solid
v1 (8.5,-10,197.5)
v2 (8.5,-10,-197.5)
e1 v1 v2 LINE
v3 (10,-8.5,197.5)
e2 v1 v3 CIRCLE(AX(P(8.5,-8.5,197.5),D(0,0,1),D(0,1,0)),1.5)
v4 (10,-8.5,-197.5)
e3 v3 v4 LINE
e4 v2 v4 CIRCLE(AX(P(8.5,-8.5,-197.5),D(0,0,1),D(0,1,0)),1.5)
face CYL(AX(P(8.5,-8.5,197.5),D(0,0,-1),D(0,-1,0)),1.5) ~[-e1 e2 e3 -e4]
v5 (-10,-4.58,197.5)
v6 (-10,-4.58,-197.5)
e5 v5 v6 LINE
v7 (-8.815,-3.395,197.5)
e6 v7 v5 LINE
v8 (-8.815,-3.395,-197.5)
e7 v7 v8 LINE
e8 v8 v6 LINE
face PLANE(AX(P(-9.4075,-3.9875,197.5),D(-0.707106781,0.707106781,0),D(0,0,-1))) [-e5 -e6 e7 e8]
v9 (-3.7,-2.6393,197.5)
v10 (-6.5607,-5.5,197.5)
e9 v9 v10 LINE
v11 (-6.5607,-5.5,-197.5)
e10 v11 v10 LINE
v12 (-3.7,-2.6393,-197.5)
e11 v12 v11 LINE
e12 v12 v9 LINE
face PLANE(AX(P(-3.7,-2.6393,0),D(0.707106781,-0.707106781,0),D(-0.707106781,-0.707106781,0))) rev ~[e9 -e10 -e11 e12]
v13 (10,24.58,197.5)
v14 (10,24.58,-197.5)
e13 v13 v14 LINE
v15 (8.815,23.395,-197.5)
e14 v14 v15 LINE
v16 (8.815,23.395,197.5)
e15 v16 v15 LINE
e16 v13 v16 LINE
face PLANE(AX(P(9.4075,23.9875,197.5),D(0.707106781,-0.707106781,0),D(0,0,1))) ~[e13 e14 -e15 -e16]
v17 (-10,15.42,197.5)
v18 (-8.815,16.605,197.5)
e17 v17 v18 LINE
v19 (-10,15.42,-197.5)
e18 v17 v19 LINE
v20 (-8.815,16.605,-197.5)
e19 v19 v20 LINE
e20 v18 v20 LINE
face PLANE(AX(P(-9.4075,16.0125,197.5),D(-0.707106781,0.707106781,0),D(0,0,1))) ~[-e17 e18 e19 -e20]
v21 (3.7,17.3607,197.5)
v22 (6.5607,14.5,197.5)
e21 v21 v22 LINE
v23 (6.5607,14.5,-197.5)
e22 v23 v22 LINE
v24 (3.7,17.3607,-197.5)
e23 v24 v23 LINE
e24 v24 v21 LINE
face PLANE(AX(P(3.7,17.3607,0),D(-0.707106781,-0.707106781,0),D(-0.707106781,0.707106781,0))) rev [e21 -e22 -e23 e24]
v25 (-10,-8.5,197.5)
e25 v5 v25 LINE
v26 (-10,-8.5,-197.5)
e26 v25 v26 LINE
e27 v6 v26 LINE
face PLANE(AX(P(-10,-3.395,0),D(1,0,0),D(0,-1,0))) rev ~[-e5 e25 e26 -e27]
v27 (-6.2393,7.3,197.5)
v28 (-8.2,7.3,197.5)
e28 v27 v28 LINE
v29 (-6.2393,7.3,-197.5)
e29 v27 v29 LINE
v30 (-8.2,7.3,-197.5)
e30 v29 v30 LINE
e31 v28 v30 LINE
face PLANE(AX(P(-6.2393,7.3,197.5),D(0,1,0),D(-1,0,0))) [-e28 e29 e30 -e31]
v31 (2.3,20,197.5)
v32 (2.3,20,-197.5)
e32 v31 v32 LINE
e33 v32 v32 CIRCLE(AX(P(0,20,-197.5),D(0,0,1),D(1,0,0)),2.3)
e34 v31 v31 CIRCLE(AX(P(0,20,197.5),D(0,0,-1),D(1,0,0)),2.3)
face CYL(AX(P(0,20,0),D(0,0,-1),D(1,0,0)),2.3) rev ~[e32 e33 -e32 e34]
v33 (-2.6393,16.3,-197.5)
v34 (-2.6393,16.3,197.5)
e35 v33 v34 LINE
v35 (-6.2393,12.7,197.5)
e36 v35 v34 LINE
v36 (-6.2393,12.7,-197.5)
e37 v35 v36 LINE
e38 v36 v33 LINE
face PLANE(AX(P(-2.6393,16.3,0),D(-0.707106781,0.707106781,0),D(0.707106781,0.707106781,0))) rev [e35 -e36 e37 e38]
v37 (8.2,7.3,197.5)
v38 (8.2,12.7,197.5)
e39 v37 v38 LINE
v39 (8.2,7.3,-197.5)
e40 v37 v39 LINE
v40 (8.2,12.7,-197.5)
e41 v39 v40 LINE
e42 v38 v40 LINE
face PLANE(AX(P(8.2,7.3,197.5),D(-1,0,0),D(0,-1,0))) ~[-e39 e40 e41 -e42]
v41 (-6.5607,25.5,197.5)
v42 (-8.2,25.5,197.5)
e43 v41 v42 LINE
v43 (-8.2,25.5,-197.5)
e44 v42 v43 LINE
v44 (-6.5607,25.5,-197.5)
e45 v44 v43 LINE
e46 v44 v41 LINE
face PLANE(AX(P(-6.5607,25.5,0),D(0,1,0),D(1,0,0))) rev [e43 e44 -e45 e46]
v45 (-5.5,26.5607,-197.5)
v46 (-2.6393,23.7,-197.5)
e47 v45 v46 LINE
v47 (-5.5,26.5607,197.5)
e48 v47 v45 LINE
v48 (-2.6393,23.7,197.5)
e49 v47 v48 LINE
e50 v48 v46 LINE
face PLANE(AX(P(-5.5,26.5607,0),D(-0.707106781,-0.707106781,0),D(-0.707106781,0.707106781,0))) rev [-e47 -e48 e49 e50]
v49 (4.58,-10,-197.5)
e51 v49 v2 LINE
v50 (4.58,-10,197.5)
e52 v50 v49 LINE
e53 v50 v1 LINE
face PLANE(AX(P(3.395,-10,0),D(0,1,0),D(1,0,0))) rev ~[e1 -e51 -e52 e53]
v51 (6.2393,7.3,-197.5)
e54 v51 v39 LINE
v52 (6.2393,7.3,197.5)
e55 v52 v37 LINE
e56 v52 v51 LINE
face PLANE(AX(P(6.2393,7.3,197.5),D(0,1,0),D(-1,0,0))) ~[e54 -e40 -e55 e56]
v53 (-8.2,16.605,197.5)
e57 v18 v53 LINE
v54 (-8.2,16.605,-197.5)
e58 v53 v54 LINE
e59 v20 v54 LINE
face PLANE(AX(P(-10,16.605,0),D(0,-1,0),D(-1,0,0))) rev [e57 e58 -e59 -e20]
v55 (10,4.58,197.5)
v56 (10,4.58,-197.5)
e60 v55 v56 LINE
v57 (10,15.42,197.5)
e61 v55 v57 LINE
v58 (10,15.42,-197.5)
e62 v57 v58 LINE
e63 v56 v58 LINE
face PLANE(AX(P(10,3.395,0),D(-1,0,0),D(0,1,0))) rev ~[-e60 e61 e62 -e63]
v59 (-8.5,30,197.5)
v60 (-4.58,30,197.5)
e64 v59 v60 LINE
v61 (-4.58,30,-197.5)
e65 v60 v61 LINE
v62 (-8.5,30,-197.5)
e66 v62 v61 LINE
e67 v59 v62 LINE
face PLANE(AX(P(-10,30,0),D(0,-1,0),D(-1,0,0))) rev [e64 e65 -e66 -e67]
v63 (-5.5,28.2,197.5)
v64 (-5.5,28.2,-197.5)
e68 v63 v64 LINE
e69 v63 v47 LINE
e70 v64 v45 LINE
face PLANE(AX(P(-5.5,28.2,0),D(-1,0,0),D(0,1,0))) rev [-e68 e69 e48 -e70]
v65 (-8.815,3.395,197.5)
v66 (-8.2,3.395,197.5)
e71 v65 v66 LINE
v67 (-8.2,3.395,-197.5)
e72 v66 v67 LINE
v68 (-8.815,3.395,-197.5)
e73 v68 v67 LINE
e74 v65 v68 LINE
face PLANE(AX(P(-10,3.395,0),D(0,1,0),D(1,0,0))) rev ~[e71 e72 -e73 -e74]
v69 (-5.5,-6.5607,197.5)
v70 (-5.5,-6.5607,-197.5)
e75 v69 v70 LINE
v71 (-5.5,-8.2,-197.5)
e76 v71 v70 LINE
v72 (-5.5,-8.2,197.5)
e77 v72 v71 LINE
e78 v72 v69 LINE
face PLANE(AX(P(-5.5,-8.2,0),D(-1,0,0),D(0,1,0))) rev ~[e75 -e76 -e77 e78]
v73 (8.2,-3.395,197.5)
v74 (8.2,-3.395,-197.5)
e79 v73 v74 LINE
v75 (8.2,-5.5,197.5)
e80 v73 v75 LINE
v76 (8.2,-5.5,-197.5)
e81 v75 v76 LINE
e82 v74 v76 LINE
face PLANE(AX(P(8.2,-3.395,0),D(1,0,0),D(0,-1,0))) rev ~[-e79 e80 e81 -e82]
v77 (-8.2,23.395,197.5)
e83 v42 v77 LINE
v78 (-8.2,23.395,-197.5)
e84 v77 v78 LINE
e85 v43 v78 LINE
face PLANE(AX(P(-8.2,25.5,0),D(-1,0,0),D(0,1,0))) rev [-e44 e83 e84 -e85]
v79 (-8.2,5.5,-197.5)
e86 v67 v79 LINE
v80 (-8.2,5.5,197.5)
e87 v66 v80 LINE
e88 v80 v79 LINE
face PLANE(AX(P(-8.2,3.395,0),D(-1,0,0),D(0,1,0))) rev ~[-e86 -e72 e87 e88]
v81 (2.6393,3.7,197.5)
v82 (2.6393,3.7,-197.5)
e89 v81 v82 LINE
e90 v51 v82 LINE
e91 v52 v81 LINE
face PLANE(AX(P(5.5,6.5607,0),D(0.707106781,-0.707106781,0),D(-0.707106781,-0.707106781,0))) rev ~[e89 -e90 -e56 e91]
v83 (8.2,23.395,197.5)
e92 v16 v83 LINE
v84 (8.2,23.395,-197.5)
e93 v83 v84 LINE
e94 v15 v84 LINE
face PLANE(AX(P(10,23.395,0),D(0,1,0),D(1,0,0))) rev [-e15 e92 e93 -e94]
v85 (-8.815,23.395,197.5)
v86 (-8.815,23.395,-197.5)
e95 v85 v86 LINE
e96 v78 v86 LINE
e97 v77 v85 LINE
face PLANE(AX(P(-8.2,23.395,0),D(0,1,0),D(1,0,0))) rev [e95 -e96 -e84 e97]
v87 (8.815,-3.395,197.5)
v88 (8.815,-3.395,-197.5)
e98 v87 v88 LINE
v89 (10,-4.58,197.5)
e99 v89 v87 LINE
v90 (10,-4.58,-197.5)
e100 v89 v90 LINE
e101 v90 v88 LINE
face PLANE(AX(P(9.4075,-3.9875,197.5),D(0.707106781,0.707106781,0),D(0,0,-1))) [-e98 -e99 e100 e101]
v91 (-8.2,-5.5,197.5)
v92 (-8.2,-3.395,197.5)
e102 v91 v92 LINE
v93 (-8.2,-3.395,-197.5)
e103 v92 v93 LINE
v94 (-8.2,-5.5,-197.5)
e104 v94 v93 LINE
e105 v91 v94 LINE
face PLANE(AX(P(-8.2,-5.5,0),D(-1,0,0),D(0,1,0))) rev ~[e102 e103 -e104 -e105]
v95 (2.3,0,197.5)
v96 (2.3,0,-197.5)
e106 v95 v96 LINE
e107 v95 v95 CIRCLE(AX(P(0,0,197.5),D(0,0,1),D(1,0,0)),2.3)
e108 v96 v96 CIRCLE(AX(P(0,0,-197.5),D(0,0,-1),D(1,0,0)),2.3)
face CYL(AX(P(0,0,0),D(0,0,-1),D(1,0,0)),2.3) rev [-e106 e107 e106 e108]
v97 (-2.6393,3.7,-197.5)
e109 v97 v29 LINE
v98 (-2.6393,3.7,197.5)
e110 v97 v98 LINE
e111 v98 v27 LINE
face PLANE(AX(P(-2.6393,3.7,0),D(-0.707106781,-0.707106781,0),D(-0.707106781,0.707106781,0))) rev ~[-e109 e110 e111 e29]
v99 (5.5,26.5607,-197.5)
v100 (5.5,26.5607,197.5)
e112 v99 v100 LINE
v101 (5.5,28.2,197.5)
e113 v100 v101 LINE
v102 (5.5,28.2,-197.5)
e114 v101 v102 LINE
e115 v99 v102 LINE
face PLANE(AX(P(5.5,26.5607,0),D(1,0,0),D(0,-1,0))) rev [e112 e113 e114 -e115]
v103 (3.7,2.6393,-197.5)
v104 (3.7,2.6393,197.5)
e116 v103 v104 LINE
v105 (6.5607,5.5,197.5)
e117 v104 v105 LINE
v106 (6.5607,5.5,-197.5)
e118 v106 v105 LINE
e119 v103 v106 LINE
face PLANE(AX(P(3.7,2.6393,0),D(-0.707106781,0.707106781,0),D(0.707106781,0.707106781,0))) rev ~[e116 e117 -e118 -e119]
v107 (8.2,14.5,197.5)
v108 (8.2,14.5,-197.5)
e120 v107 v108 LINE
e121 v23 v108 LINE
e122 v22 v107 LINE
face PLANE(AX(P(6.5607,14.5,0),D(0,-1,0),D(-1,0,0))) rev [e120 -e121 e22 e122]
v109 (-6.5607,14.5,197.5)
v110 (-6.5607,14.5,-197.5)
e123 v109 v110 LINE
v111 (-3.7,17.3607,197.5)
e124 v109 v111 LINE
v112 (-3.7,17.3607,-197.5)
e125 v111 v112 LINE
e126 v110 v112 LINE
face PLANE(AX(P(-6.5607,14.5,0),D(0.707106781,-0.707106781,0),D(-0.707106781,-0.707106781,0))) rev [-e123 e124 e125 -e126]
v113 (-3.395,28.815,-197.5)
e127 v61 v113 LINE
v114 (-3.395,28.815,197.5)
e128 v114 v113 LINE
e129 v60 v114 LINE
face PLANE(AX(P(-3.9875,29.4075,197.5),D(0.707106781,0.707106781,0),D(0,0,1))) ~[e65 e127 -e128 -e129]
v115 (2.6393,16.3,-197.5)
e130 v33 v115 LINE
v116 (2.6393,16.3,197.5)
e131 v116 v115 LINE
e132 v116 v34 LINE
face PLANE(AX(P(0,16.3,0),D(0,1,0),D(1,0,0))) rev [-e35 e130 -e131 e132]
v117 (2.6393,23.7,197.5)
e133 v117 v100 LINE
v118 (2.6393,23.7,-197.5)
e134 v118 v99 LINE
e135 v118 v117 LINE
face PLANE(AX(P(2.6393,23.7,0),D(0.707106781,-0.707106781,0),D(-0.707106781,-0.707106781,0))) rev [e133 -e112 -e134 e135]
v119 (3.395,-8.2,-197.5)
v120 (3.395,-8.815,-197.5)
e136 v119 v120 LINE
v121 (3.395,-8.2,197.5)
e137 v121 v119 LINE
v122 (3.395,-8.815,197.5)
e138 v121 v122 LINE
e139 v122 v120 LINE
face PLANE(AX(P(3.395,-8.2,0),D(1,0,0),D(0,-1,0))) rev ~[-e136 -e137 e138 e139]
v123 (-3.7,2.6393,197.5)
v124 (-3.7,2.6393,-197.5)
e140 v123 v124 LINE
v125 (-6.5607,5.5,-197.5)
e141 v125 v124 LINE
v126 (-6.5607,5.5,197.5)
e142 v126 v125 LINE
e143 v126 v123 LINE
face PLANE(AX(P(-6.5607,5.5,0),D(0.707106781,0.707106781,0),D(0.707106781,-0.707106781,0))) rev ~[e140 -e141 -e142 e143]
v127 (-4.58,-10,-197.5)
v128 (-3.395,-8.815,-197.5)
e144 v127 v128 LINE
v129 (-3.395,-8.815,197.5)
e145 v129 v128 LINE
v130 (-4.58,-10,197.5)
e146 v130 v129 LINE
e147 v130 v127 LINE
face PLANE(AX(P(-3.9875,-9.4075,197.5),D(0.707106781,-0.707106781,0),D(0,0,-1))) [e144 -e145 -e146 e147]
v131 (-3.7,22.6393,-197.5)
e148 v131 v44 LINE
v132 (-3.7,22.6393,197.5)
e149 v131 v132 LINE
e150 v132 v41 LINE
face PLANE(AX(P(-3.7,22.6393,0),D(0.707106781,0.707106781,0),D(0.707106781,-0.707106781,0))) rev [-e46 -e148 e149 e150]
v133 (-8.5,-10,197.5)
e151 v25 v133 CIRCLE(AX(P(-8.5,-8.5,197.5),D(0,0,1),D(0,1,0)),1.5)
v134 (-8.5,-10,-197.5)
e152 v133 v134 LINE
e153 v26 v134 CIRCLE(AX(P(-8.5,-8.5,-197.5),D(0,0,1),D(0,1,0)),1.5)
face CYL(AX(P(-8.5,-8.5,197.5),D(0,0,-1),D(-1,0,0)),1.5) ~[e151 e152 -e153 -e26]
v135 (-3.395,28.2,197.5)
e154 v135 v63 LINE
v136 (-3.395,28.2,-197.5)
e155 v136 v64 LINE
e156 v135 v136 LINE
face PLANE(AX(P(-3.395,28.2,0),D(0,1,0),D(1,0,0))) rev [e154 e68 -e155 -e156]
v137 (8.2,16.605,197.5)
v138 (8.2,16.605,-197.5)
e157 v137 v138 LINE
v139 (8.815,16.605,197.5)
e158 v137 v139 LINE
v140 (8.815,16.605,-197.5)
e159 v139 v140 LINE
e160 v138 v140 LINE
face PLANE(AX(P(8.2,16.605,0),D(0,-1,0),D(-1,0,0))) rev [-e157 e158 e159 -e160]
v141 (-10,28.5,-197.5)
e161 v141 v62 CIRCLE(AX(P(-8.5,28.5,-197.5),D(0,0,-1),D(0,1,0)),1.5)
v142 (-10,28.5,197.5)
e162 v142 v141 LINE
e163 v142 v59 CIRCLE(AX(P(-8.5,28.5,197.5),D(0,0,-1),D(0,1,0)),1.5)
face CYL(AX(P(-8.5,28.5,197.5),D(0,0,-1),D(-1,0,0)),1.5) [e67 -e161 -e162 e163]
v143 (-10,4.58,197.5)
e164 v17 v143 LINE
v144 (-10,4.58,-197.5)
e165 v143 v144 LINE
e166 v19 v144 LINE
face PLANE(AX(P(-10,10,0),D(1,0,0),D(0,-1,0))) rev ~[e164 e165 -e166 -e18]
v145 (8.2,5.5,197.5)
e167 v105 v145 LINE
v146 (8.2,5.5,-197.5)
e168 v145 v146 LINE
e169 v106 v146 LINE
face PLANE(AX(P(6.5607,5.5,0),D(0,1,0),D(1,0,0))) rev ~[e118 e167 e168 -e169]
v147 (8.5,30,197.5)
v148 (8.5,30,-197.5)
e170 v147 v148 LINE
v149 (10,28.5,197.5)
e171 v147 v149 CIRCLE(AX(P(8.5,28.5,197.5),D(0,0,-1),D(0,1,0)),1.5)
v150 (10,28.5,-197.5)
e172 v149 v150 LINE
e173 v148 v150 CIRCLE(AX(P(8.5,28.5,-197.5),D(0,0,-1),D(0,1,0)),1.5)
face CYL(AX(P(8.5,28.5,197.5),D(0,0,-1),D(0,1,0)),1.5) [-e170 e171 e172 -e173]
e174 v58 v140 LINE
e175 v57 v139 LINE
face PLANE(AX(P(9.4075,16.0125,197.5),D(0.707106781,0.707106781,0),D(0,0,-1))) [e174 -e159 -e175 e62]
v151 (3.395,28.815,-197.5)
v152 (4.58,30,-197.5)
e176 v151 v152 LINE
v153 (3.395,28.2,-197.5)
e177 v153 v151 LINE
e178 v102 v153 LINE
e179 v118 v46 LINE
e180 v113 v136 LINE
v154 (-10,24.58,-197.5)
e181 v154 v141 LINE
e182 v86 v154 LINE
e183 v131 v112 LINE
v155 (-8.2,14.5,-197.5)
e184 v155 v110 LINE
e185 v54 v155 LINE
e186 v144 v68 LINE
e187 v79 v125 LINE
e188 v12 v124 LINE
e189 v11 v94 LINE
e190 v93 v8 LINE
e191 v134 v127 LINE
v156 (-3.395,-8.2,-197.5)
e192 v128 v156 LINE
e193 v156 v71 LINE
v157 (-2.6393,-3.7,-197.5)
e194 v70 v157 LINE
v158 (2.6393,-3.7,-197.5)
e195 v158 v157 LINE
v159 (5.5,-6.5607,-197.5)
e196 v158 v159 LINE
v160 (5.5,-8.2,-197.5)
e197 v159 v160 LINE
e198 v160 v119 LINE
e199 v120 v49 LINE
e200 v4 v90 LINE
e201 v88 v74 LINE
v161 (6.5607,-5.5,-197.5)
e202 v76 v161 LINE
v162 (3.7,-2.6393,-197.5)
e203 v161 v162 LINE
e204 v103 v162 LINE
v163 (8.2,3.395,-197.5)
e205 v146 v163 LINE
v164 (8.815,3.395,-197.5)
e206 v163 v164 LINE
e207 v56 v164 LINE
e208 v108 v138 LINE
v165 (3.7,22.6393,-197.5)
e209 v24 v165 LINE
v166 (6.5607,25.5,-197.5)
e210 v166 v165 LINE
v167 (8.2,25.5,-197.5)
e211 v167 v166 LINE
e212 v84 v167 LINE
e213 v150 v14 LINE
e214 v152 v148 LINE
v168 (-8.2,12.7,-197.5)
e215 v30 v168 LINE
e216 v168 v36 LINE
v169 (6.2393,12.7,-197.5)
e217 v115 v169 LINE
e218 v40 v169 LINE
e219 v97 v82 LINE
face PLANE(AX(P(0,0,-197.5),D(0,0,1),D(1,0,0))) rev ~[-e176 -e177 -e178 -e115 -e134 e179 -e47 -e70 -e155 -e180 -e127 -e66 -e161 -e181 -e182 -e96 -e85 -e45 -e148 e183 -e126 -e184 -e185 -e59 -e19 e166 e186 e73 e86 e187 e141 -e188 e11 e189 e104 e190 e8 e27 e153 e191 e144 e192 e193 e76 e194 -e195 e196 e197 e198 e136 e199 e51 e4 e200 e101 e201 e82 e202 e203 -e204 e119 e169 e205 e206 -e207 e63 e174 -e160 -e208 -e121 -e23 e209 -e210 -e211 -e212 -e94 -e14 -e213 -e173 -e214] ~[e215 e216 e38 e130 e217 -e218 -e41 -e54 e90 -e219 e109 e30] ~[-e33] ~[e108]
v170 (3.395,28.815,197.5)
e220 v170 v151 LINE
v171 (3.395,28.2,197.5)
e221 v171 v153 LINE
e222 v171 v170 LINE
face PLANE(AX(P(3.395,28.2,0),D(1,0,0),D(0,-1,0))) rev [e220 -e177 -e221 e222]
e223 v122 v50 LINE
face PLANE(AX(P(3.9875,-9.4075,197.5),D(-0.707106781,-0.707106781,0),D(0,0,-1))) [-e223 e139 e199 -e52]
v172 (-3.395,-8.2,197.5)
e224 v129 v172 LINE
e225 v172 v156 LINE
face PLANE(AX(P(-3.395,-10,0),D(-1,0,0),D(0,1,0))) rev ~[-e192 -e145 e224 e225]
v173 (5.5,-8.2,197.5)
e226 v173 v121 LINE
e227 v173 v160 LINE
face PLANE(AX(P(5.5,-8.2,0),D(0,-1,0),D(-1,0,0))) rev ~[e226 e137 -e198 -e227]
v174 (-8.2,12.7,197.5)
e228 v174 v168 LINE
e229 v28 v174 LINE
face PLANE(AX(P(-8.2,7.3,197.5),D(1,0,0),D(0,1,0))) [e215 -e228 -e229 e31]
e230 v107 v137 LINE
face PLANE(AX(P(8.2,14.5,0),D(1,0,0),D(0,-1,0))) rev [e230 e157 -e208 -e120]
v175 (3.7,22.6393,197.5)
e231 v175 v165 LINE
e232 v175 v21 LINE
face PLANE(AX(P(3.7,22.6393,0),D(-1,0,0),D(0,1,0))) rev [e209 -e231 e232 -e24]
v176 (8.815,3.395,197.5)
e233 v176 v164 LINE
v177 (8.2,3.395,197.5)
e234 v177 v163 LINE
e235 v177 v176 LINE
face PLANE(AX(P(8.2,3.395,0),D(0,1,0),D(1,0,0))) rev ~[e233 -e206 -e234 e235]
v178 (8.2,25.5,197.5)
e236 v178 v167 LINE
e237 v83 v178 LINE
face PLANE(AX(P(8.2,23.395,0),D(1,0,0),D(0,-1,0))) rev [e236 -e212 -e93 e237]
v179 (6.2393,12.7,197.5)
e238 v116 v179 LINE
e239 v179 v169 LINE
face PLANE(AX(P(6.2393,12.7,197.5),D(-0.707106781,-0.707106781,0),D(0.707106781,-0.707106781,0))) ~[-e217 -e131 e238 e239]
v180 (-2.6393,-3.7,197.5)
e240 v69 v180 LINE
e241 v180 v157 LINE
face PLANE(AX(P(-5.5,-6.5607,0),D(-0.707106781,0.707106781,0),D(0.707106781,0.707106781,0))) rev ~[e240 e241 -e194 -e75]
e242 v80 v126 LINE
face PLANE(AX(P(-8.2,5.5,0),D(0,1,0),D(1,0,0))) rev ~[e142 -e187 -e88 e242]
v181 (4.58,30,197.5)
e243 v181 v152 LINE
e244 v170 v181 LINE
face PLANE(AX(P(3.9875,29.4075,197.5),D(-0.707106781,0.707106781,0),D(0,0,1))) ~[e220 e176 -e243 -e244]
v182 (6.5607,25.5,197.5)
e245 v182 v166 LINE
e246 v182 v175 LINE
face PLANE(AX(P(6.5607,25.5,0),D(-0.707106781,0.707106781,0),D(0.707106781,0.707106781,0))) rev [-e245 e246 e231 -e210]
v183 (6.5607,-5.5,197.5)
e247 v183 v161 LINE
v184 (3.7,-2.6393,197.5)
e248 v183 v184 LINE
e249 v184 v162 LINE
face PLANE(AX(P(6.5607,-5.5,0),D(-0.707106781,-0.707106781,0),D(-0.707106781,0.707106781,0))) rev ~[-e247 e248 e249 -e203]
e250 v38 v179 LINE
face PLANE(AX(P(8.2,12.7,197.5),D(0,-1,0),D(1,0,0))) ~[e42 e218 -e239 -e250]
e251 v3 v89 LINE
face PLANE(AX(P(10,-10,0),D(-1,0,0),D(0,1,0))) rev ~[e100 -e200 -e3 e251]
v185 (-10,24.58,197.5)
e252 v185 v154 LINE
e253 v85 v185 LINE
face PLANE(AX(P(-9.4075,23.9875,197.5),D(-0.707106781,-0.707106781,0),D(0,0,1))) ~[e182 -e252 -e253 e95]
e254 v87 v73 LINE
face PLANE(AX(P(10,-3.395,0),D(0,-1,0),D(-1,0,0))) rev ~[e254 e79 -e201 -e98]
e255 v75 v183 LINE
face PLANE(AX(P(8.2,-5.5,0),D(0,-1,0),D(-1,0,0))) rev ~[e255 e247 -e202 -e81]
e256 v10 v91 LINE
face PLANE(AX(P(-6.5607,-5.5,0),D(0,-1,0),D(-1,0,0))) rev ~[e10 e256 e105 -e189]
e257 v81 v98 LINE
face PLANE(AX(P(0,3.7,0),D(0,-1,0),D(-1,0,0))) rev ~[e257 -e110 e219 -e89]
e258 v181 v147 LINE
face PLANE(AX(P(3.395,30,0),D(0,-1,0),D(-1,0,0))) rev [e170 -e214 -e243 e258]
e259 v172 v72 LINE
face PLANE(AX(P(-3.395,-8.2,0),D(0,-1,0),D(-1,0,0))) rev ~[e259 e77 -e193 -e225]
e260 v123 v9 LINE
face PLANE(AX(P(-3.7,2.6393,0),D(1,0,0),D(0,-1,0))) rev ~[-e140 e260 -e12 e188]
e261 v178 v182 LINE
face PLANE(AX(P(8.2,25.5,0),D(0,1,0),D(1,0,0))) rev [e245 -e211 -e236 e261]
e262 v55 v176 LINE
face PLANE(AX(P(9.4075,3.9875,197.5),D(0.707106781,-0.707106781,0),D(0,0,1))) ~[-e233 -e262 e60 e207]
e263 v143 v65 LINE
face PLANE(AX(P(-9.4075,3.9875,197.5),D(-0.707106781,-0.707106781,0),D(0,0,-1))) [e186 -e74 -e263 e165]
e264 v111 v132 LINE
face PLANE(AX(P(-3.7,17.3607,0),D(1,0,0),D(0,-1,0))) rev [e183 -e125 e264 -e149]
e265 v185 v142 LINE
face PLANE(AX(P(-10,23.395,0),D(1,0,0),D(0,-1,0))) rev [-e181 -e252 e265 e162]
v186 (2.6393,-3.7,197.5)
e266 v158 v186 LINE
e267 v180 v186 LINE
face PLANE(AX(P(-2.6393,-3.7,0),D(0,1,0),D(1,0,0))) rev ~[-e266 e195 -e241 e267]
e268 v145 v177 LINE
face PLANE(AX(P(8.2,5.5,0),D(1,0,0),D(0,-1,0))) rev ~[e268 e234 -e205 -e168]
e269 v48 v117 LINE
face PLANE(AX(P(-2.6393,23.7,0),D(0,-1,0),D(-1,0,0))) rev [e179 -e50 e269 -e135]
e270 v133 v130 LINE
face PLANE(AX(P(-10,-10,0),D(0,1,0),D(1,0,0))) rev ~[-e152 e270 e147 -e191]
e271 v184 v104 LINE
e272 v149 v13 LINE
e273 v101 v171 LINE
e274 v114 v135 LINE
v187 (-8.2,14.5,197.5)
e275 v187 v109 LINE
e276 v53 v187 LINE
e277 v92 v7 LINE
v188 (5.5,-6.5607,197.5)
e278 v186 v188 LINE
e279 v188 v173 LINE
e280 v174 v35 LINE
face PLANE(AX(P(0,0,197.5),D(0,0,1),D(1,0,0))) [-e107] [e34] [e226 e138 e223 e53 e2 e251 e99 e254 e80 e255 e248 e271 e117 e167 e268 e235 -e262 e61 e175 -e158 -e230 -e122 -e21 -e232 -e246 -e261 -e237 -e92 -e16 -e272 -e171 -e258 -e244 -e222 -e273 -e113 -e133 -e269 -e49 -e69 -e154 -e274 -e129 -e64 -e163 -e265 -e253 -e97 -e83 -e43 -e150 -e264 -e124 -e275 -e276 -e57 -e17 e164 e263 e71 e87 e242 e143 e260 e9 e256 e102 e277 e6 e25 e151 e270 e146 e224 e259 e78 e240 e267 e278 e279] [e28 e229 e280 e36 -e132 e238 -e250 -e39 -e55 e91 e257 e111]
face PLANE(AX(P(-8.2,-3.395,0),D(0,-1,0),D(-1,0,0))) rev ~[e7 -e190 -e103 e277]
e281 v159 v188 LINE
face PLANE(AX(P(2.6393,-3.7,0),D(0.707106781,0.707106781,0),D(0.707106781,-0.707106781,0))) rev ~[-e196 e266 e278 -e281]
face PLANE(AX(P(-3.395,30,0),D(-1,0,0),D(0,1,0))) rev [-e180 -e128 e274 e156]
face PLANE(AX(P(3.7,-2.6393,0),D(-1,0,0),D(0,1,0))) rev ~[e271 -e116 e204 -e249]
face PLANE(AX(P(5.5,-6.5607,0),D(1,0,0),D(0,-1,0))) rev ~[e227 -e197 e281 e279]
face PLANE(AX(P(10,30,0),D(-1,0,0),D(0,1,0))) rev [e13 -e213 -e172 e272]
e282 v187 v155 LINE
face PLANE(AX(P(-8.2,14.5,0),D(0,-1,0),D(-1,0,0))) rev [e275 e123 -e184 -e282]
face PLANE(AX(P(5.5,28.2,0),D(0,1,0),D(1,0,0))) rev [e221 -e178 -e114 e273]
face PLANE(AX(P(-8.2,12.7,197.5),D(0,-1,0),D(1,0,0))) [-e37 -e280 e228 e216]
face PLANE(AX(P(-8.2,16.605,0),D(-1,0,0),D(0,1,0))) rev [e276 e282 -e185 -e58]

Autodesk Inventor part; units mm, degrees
ref_plane "YZ Plane" through (0, 0, 0) normal (1, 0, 0) x (0, 1, 0)
ref_plane "XZ Plane" through (0, 0, 0) normal (0, 1, 0) x (-1, 0, 0)
sketch "Sketch1" plane through (0, 0, 0) normal (0, 0, 1) x (1, 0, 0)
  line L0 (0, 3.7) -> (-2.6393, 3.7)
  line L1 (-2.6393, 3.7) -> (-5.5, 6.5607)
  line L2 (-5.5, 6.5607) -> (-5.5, 8.2)
  line L3 (-5.5, 8.2) -> (-3.395, 8.2)
  line L4 (-3.395, 8.2) -> (-3.395, 10)
  line L5 (-3.395, 10) -> (-10, 10)
  line L6 (-10, 10) -> (-10, 3.395)
  line L7 (-10, 3.395) -> (-8.2, 3.395)
  line L8 (-8.2, 3.395) -> (-8.2, 5.5)
  line L9 (-8.2, 5.5) -> (-6.5607, 5.5)
  line L10 (-6.5607, 5.5) -> (-3.7, 2.6393)
  line L11 (-3.7, 2.6393) -> (-3.7, 0)
  line L12 (0, 0) -> (-10, 10) construction
  circle A0 centre (0, 0) radius 2.3
  line L13 (-22.6601, 0) -> (65.9605, 0) projected
  line L14 (-3.7, 0) -> (0, 0)
  line L15 (0, 0) -> (0, 3.7)
  line L16 (11.2521, 18.9743) -> (53.3004, 18.9743) construction
  line L17 (53.3004, 18.9743) -> (53.3004, -5.624) construction
  line L18 (53.3004, -5.624) -> (11.2521, -5.624) construction
  line L19 (11.2521, -5.624) -> (11.2521, 18.9743) construction
  point P0 (-2.3, 0)
  point P1 (0, 2.3)
  dimension "d0" = 1.5
  dimension "d6" = 6.3
  dimension "d9" = 4.6
  dimension "d18" = 135
  dimension "d22" = 20
  dimension "d34" = 11
  dimension "d35" = 6.79
  dimension "d36" = 1.8
extrude "Extrusion1" add sketch "Sketch1" along normal mid plane 395 contours L15 A0 L13 L11 L10 L9 L8 L7 L6 L5 L4 L3 L2 L1 L0
pattern_circular "Circular Pattern1" count 4 over 360 about axis through (0, 0, -10) along (0, 0, 1) of "Extrusion1"
chamfer "Chamfer1" distance 1.185 angle 45 8 edges at (-3.395, 10, 0) (3.395, 10, 0) (10, 3.395, 0) (10, -3.395, 0) (3.395, -10, 0) (-3.395, -10, 0) (-10, -3.395, 0) (-10, 3.395, 0)
ref_plane "Work Plane1" through (4.58, 10, 197.5) normal (0, 1, 0) x (1, 0, 0)
mirror "Mirror1" about plane through (4.58, 10, 197.5) normal (0, 1, 0)
sketch "Sketch2" plane through (0, 0, 197.5) normal (0, 0, 1) x (1, 0, 0)
  line L0 (-10, 4.58) -> (-10, 15.42) projected
  line L1 (-8.815, 3.395) -> (-10, 4.58) projected
  line L2 (-8.815, 3.395) -> (-8.2, 3.395) projected
  line L3 (-8.2, 3.395) -> (-8.2, 5.5) projected
  line L4 (-8.2, 5.5) -> (-6.5607, 5.5) projected
  line L5 (-6.5607, 5.5) -> (-3.7, 2.6393) projected
  line L6 (-3.7, -2.6393) -> (-6.5607, -5.5) projected
  line L7 (-6.5607, -5.5) -> (-8.2, -5.5) projected
  line L8 (-8.2, -5.5) -> (-8.2, -3.395) projected
  line L9 (-8.2, -3.395) -> (-8.815, -3.395) projected
  line L10 (-10, -4.58) -> (-8.815, -3.395) projected
  line L11 (-10, -4.58) -> (-10, -10) projected
  line L12 (-10, -10) -> (-4.58, -10) projected
  line L13 (-3.395, -8.815) -> (-4.58, -10) projected
  line L14 (-3.395, -8.815) -> (-3.395, -8.2) projected
  line L15 (-3.395, -8.2) -> (-5.5, -8.2) projected
  line L16 (-5.5, -8.2) -> (-5.5, -6.5607) projected
  line L17 (-5.5, -6.5607) -> (-2.6393, -3.7) projected
  line L18 (2.6393, -3.7) -> (5.5, -6.5607) projected
  line L19 (5.5, -6.5607) -> (5.5, -8.2) projected
  line L20 (5.5, -8.2) -> (3.395, -8.2) projected
  line L21 (3.395, -8.2) -> (3.395, -8.815) projected
  line L22 (4.58, -10) -> (3.395, -8.815) projected
  line L23 (4.58, -10) -> (10, -10) projected
  line L24 (10, -10) -> (10, -4.58) projected
  line L25 (8.815, -3.395) -> (10, -4.58) projected
  line L26 (8.815, -3.395) -> (8.2, -3.395) projected
  line L27 (8.2, -3.395) -> (8.2, -5.5) projected
  line L28 (8.2, -5.5) -> (6.5607, -5.5) projected
  line L29 (6.5607, -5.5) -> (3.7, -2.6393) projected
  line L30 (3.7, 2.6393) -> (6.5607, 5.5) projected
  line L31 (6.5607, 5.5) -> (8.2, 5.5) projected
  line L32 (8.2, 5.5) -> (8.2, 3.395) projected
  line L33 (8.2, 3.395) -> (8.815, 3.395) projected
  line L34 (10, 4.58) -> (8.815, 3.395) projected
  line L35 (10, 4.58) -> (10, 15.42) projected
  line L36 (10, 15.42) -> (8.815, 16.605) projected
  line L37 (8.2, 16.605) -> (8.815, 16.605) projected
  line L38 (8.2, 14.5) -> (8.2, 16.605) projected
  line L39 (6.5607, 14.5) -> (8.2, 14.5) projected
  line L40 (3.7, 17.3607) -> (6.5607, 14.5) projected
  line L41 (6.5607, 25.5) -> (3.7, 22.6393) projected
  line L42 (8.2, 25.5) -> (6.5607, 25.5) projected
  line L43 (8.2, 23.395) -> (8.2, 25.5) projected
  line L44 (8.815, 23.395) -> (8.2, 23.395) projected
  line L45 (8.815, 23.395) -> (10, 24.58) projected
  line L46 (10, 30) -> (10, 24.58) projected
  line L47 (4.58, 30) -> (10, 30) projected
  line L48 (4.58, 30) -> (3.395, 28.815) projected
  line L49 (3.395, 28.2) -> (3.395, 28.815) projected
  line L50 (5.5, 28.2) -> (3.395, 28.2) projected
  line L51 (5.5, 26.5607) -> (5.5, 28.2) projected
  line L52 (2.6393, 23.7) -> (5.5, 26.5607) projected
  line L53 (-5.5, 26.5607) -> (-2.6393, 23.7) projected
  line L54 (-5.5, 28.2) -> (-5.5, 26.5607) projected
  line L55 (-3.395, 28.2) -> (-5.5, 28.2) projected
  line L56 (-3.395, 28.815) -> (-3.395, 28.2) projected
  line L57 (-3.395, 28.815) -> (-4.58, 30) projected
  line L58 (-10, 30) -> (-4.58, 30) projected
  line L59 (-10, 24.58) -> (-10, 30) projected
  line L60 (-10, 24.58) -> (-8.815, 23.395) projected
  line L61 (-8.2, 23.395) -> (-8.815, 23.395) projected
  line L62 (-8.2, 25.5) -> (-8.2, 23.395) projected
  line L63 (-6.5607, 25.5) -> (-8.2, 25.5) projected
  line L64 (-3.7, 22.6393) -> (-6.5607, 25.5) projected
  line L65 (-6.5607, 14.5) -> (-3.7, 17.3607) projected
  line L66 (-8.2, 14.5) -> (-6.5607, 14.5) projected
  line L67 (-8.2, 16.605) -> (-8.2, 14.5) projected
  line L68 (-8.815, 16.605) -> (-8.2, 16.605) projected
  line L69 (-8.815, 16.605) -> (-10, 15.42) projected
  circle A0 centre (0, 20) radius 2.3 projected
  line L70 (-4.58, 10) -> (-3.395, 11.185) projected
  line L71 (-3.395, 11.8) -> (-3.395, 11.185) projected
  line L72 (-5.5, 11.8) -> (-3.395, 11.8) projected
  line L73 (-5.5, 13.4393) -> (-5.5, 11.8) projected
  line L74 (-2.6393, 16.3) -> (-5.5, 13.4393) projected
  line L75 (5.5, 13.4393) -> (2.6393, 16.3) projected
  line L76 (5.5, 11.8) -> (5.5, 13.4393) projected
  line L77 (3.395, 11.8) -> (5.5, 11.8) projected
  line L78 (3.395, 11.185) -> (3.395, 11.8) projected
  line L79 (3.395, 11.185) -> (4.58, 10) projected
  line L80 (3.395, 8.815) -> (4.58, 10) projected
  line L81 (3.395, 8.815) -> (3.395, 8.2) projected
  line L82 (3.395, 8.2) -> (5.5, 8.2) projected
  line L83 (5.5, 8.2) -> (5.5, 6.5607) projected
  line L84 (5.5, 6.5607) -> (2.6393, 3.7) projected
  line L85 (-2.6393, 3.7) -> (-5.5, 6.5607) projected
  line L86 (-5.5, 6.5607) -> (-5.5, 8.2) projected
  line L87 (-5.5, 8.2) -> (-3.395, 8.2) projected
  line L88 (-3.395, 8.2) -> (-3.395, 8.815) projected
  line L89 (-4.58, 10) -> (-3.395, 8.815) projected
  circle A1 centre (0, 0) radius 2.3 projected
  line L90 (-5.5, 8.2) -> (-5.5, 6.5607) projected
  line L91 (-5.5, 6.5607) -> (-6.2393, 7.3)
  line L92 (-5.5, 6.5607) -> (-2.6393, 3.7) projected
  line L93 (-6.2393, 7.3) -> (-8.2, 7.3)
  line L94 (-8.2, 7.3) -> (-8.2, 12.7)
  line L95 (-8.2, 12.7) -> (-6.2393, 12.7)
  line L96 (-6.2393, 12.7) -> (-5.5, 13.4393)
  line L97 (-2.6393, 16.3) -> (-5.5, 13.4393) projected
  line L98 (-8.2, 16.605) -> (-8.2, 14.5) projected
  line L99 (-3.7, 2.6393) -> (-3.7, -2.6393) projected
  line L100 (-2.6393, -3.7) -> (2.6393, -3.7) projected
  line L101 (3.7, -2.6393) -> (3.7, 2.6393) projected
  line L102 (3.7, 22.6393) -> (3.7, 17.3607) projected
  line L103 (-2.6393, 23.7) -> (2.6393, 23.7) projected
  line L104 (-3.7, 17.3607) -> (-3.7, 22.6393) projected
  line L105 (2.6393, 16.3) -> (-2.6393, 16.3) projected
  line L106 (2.6393, 3.7) -> (-2.6393, 3.7) projected
  dimension "d42" = 1.8
extrude "Extrusion2" cut sketch "Sketch2" against normal through all contours L89 L88 L87 L86 L91 L93 L94 L95 L96 L73 L72 L71 L70
fillet "Fillet2" radius 1.5 4 edges at (-10, 30, 0) (10, 30, 0) (10, -10, 0) (-10, -10, 0)
mirror "Mirror2" about plane through (0, 0, 0) normal (1, 0, 0) of "Extrusion2"
equation "\"d24\" = WorkspaceLength"
equation "\"GridProcutClearance\" = 3"
equation "\"GridBorderThickness\" = 5"
equation "\"GridBorderFillets\" = 7"
equation "\"GridTotalSize\" = 63"
equation "\"BaseTotalWidth\" = 412"
equation "\"BaseTotalLength\" = 624"
equation "\"DistanceBetweenGrid\" = 5"
equation "\"WorkspaceLength\" = 395"
equation "\"WorkspaceWidth\" = 332"
equation "\"AxesBaseFillet\" = 15"
equation "\"Zaxis\" = 127"
properties part number "2040aluminum_extrusion_black" material "Aluminum 6061"
